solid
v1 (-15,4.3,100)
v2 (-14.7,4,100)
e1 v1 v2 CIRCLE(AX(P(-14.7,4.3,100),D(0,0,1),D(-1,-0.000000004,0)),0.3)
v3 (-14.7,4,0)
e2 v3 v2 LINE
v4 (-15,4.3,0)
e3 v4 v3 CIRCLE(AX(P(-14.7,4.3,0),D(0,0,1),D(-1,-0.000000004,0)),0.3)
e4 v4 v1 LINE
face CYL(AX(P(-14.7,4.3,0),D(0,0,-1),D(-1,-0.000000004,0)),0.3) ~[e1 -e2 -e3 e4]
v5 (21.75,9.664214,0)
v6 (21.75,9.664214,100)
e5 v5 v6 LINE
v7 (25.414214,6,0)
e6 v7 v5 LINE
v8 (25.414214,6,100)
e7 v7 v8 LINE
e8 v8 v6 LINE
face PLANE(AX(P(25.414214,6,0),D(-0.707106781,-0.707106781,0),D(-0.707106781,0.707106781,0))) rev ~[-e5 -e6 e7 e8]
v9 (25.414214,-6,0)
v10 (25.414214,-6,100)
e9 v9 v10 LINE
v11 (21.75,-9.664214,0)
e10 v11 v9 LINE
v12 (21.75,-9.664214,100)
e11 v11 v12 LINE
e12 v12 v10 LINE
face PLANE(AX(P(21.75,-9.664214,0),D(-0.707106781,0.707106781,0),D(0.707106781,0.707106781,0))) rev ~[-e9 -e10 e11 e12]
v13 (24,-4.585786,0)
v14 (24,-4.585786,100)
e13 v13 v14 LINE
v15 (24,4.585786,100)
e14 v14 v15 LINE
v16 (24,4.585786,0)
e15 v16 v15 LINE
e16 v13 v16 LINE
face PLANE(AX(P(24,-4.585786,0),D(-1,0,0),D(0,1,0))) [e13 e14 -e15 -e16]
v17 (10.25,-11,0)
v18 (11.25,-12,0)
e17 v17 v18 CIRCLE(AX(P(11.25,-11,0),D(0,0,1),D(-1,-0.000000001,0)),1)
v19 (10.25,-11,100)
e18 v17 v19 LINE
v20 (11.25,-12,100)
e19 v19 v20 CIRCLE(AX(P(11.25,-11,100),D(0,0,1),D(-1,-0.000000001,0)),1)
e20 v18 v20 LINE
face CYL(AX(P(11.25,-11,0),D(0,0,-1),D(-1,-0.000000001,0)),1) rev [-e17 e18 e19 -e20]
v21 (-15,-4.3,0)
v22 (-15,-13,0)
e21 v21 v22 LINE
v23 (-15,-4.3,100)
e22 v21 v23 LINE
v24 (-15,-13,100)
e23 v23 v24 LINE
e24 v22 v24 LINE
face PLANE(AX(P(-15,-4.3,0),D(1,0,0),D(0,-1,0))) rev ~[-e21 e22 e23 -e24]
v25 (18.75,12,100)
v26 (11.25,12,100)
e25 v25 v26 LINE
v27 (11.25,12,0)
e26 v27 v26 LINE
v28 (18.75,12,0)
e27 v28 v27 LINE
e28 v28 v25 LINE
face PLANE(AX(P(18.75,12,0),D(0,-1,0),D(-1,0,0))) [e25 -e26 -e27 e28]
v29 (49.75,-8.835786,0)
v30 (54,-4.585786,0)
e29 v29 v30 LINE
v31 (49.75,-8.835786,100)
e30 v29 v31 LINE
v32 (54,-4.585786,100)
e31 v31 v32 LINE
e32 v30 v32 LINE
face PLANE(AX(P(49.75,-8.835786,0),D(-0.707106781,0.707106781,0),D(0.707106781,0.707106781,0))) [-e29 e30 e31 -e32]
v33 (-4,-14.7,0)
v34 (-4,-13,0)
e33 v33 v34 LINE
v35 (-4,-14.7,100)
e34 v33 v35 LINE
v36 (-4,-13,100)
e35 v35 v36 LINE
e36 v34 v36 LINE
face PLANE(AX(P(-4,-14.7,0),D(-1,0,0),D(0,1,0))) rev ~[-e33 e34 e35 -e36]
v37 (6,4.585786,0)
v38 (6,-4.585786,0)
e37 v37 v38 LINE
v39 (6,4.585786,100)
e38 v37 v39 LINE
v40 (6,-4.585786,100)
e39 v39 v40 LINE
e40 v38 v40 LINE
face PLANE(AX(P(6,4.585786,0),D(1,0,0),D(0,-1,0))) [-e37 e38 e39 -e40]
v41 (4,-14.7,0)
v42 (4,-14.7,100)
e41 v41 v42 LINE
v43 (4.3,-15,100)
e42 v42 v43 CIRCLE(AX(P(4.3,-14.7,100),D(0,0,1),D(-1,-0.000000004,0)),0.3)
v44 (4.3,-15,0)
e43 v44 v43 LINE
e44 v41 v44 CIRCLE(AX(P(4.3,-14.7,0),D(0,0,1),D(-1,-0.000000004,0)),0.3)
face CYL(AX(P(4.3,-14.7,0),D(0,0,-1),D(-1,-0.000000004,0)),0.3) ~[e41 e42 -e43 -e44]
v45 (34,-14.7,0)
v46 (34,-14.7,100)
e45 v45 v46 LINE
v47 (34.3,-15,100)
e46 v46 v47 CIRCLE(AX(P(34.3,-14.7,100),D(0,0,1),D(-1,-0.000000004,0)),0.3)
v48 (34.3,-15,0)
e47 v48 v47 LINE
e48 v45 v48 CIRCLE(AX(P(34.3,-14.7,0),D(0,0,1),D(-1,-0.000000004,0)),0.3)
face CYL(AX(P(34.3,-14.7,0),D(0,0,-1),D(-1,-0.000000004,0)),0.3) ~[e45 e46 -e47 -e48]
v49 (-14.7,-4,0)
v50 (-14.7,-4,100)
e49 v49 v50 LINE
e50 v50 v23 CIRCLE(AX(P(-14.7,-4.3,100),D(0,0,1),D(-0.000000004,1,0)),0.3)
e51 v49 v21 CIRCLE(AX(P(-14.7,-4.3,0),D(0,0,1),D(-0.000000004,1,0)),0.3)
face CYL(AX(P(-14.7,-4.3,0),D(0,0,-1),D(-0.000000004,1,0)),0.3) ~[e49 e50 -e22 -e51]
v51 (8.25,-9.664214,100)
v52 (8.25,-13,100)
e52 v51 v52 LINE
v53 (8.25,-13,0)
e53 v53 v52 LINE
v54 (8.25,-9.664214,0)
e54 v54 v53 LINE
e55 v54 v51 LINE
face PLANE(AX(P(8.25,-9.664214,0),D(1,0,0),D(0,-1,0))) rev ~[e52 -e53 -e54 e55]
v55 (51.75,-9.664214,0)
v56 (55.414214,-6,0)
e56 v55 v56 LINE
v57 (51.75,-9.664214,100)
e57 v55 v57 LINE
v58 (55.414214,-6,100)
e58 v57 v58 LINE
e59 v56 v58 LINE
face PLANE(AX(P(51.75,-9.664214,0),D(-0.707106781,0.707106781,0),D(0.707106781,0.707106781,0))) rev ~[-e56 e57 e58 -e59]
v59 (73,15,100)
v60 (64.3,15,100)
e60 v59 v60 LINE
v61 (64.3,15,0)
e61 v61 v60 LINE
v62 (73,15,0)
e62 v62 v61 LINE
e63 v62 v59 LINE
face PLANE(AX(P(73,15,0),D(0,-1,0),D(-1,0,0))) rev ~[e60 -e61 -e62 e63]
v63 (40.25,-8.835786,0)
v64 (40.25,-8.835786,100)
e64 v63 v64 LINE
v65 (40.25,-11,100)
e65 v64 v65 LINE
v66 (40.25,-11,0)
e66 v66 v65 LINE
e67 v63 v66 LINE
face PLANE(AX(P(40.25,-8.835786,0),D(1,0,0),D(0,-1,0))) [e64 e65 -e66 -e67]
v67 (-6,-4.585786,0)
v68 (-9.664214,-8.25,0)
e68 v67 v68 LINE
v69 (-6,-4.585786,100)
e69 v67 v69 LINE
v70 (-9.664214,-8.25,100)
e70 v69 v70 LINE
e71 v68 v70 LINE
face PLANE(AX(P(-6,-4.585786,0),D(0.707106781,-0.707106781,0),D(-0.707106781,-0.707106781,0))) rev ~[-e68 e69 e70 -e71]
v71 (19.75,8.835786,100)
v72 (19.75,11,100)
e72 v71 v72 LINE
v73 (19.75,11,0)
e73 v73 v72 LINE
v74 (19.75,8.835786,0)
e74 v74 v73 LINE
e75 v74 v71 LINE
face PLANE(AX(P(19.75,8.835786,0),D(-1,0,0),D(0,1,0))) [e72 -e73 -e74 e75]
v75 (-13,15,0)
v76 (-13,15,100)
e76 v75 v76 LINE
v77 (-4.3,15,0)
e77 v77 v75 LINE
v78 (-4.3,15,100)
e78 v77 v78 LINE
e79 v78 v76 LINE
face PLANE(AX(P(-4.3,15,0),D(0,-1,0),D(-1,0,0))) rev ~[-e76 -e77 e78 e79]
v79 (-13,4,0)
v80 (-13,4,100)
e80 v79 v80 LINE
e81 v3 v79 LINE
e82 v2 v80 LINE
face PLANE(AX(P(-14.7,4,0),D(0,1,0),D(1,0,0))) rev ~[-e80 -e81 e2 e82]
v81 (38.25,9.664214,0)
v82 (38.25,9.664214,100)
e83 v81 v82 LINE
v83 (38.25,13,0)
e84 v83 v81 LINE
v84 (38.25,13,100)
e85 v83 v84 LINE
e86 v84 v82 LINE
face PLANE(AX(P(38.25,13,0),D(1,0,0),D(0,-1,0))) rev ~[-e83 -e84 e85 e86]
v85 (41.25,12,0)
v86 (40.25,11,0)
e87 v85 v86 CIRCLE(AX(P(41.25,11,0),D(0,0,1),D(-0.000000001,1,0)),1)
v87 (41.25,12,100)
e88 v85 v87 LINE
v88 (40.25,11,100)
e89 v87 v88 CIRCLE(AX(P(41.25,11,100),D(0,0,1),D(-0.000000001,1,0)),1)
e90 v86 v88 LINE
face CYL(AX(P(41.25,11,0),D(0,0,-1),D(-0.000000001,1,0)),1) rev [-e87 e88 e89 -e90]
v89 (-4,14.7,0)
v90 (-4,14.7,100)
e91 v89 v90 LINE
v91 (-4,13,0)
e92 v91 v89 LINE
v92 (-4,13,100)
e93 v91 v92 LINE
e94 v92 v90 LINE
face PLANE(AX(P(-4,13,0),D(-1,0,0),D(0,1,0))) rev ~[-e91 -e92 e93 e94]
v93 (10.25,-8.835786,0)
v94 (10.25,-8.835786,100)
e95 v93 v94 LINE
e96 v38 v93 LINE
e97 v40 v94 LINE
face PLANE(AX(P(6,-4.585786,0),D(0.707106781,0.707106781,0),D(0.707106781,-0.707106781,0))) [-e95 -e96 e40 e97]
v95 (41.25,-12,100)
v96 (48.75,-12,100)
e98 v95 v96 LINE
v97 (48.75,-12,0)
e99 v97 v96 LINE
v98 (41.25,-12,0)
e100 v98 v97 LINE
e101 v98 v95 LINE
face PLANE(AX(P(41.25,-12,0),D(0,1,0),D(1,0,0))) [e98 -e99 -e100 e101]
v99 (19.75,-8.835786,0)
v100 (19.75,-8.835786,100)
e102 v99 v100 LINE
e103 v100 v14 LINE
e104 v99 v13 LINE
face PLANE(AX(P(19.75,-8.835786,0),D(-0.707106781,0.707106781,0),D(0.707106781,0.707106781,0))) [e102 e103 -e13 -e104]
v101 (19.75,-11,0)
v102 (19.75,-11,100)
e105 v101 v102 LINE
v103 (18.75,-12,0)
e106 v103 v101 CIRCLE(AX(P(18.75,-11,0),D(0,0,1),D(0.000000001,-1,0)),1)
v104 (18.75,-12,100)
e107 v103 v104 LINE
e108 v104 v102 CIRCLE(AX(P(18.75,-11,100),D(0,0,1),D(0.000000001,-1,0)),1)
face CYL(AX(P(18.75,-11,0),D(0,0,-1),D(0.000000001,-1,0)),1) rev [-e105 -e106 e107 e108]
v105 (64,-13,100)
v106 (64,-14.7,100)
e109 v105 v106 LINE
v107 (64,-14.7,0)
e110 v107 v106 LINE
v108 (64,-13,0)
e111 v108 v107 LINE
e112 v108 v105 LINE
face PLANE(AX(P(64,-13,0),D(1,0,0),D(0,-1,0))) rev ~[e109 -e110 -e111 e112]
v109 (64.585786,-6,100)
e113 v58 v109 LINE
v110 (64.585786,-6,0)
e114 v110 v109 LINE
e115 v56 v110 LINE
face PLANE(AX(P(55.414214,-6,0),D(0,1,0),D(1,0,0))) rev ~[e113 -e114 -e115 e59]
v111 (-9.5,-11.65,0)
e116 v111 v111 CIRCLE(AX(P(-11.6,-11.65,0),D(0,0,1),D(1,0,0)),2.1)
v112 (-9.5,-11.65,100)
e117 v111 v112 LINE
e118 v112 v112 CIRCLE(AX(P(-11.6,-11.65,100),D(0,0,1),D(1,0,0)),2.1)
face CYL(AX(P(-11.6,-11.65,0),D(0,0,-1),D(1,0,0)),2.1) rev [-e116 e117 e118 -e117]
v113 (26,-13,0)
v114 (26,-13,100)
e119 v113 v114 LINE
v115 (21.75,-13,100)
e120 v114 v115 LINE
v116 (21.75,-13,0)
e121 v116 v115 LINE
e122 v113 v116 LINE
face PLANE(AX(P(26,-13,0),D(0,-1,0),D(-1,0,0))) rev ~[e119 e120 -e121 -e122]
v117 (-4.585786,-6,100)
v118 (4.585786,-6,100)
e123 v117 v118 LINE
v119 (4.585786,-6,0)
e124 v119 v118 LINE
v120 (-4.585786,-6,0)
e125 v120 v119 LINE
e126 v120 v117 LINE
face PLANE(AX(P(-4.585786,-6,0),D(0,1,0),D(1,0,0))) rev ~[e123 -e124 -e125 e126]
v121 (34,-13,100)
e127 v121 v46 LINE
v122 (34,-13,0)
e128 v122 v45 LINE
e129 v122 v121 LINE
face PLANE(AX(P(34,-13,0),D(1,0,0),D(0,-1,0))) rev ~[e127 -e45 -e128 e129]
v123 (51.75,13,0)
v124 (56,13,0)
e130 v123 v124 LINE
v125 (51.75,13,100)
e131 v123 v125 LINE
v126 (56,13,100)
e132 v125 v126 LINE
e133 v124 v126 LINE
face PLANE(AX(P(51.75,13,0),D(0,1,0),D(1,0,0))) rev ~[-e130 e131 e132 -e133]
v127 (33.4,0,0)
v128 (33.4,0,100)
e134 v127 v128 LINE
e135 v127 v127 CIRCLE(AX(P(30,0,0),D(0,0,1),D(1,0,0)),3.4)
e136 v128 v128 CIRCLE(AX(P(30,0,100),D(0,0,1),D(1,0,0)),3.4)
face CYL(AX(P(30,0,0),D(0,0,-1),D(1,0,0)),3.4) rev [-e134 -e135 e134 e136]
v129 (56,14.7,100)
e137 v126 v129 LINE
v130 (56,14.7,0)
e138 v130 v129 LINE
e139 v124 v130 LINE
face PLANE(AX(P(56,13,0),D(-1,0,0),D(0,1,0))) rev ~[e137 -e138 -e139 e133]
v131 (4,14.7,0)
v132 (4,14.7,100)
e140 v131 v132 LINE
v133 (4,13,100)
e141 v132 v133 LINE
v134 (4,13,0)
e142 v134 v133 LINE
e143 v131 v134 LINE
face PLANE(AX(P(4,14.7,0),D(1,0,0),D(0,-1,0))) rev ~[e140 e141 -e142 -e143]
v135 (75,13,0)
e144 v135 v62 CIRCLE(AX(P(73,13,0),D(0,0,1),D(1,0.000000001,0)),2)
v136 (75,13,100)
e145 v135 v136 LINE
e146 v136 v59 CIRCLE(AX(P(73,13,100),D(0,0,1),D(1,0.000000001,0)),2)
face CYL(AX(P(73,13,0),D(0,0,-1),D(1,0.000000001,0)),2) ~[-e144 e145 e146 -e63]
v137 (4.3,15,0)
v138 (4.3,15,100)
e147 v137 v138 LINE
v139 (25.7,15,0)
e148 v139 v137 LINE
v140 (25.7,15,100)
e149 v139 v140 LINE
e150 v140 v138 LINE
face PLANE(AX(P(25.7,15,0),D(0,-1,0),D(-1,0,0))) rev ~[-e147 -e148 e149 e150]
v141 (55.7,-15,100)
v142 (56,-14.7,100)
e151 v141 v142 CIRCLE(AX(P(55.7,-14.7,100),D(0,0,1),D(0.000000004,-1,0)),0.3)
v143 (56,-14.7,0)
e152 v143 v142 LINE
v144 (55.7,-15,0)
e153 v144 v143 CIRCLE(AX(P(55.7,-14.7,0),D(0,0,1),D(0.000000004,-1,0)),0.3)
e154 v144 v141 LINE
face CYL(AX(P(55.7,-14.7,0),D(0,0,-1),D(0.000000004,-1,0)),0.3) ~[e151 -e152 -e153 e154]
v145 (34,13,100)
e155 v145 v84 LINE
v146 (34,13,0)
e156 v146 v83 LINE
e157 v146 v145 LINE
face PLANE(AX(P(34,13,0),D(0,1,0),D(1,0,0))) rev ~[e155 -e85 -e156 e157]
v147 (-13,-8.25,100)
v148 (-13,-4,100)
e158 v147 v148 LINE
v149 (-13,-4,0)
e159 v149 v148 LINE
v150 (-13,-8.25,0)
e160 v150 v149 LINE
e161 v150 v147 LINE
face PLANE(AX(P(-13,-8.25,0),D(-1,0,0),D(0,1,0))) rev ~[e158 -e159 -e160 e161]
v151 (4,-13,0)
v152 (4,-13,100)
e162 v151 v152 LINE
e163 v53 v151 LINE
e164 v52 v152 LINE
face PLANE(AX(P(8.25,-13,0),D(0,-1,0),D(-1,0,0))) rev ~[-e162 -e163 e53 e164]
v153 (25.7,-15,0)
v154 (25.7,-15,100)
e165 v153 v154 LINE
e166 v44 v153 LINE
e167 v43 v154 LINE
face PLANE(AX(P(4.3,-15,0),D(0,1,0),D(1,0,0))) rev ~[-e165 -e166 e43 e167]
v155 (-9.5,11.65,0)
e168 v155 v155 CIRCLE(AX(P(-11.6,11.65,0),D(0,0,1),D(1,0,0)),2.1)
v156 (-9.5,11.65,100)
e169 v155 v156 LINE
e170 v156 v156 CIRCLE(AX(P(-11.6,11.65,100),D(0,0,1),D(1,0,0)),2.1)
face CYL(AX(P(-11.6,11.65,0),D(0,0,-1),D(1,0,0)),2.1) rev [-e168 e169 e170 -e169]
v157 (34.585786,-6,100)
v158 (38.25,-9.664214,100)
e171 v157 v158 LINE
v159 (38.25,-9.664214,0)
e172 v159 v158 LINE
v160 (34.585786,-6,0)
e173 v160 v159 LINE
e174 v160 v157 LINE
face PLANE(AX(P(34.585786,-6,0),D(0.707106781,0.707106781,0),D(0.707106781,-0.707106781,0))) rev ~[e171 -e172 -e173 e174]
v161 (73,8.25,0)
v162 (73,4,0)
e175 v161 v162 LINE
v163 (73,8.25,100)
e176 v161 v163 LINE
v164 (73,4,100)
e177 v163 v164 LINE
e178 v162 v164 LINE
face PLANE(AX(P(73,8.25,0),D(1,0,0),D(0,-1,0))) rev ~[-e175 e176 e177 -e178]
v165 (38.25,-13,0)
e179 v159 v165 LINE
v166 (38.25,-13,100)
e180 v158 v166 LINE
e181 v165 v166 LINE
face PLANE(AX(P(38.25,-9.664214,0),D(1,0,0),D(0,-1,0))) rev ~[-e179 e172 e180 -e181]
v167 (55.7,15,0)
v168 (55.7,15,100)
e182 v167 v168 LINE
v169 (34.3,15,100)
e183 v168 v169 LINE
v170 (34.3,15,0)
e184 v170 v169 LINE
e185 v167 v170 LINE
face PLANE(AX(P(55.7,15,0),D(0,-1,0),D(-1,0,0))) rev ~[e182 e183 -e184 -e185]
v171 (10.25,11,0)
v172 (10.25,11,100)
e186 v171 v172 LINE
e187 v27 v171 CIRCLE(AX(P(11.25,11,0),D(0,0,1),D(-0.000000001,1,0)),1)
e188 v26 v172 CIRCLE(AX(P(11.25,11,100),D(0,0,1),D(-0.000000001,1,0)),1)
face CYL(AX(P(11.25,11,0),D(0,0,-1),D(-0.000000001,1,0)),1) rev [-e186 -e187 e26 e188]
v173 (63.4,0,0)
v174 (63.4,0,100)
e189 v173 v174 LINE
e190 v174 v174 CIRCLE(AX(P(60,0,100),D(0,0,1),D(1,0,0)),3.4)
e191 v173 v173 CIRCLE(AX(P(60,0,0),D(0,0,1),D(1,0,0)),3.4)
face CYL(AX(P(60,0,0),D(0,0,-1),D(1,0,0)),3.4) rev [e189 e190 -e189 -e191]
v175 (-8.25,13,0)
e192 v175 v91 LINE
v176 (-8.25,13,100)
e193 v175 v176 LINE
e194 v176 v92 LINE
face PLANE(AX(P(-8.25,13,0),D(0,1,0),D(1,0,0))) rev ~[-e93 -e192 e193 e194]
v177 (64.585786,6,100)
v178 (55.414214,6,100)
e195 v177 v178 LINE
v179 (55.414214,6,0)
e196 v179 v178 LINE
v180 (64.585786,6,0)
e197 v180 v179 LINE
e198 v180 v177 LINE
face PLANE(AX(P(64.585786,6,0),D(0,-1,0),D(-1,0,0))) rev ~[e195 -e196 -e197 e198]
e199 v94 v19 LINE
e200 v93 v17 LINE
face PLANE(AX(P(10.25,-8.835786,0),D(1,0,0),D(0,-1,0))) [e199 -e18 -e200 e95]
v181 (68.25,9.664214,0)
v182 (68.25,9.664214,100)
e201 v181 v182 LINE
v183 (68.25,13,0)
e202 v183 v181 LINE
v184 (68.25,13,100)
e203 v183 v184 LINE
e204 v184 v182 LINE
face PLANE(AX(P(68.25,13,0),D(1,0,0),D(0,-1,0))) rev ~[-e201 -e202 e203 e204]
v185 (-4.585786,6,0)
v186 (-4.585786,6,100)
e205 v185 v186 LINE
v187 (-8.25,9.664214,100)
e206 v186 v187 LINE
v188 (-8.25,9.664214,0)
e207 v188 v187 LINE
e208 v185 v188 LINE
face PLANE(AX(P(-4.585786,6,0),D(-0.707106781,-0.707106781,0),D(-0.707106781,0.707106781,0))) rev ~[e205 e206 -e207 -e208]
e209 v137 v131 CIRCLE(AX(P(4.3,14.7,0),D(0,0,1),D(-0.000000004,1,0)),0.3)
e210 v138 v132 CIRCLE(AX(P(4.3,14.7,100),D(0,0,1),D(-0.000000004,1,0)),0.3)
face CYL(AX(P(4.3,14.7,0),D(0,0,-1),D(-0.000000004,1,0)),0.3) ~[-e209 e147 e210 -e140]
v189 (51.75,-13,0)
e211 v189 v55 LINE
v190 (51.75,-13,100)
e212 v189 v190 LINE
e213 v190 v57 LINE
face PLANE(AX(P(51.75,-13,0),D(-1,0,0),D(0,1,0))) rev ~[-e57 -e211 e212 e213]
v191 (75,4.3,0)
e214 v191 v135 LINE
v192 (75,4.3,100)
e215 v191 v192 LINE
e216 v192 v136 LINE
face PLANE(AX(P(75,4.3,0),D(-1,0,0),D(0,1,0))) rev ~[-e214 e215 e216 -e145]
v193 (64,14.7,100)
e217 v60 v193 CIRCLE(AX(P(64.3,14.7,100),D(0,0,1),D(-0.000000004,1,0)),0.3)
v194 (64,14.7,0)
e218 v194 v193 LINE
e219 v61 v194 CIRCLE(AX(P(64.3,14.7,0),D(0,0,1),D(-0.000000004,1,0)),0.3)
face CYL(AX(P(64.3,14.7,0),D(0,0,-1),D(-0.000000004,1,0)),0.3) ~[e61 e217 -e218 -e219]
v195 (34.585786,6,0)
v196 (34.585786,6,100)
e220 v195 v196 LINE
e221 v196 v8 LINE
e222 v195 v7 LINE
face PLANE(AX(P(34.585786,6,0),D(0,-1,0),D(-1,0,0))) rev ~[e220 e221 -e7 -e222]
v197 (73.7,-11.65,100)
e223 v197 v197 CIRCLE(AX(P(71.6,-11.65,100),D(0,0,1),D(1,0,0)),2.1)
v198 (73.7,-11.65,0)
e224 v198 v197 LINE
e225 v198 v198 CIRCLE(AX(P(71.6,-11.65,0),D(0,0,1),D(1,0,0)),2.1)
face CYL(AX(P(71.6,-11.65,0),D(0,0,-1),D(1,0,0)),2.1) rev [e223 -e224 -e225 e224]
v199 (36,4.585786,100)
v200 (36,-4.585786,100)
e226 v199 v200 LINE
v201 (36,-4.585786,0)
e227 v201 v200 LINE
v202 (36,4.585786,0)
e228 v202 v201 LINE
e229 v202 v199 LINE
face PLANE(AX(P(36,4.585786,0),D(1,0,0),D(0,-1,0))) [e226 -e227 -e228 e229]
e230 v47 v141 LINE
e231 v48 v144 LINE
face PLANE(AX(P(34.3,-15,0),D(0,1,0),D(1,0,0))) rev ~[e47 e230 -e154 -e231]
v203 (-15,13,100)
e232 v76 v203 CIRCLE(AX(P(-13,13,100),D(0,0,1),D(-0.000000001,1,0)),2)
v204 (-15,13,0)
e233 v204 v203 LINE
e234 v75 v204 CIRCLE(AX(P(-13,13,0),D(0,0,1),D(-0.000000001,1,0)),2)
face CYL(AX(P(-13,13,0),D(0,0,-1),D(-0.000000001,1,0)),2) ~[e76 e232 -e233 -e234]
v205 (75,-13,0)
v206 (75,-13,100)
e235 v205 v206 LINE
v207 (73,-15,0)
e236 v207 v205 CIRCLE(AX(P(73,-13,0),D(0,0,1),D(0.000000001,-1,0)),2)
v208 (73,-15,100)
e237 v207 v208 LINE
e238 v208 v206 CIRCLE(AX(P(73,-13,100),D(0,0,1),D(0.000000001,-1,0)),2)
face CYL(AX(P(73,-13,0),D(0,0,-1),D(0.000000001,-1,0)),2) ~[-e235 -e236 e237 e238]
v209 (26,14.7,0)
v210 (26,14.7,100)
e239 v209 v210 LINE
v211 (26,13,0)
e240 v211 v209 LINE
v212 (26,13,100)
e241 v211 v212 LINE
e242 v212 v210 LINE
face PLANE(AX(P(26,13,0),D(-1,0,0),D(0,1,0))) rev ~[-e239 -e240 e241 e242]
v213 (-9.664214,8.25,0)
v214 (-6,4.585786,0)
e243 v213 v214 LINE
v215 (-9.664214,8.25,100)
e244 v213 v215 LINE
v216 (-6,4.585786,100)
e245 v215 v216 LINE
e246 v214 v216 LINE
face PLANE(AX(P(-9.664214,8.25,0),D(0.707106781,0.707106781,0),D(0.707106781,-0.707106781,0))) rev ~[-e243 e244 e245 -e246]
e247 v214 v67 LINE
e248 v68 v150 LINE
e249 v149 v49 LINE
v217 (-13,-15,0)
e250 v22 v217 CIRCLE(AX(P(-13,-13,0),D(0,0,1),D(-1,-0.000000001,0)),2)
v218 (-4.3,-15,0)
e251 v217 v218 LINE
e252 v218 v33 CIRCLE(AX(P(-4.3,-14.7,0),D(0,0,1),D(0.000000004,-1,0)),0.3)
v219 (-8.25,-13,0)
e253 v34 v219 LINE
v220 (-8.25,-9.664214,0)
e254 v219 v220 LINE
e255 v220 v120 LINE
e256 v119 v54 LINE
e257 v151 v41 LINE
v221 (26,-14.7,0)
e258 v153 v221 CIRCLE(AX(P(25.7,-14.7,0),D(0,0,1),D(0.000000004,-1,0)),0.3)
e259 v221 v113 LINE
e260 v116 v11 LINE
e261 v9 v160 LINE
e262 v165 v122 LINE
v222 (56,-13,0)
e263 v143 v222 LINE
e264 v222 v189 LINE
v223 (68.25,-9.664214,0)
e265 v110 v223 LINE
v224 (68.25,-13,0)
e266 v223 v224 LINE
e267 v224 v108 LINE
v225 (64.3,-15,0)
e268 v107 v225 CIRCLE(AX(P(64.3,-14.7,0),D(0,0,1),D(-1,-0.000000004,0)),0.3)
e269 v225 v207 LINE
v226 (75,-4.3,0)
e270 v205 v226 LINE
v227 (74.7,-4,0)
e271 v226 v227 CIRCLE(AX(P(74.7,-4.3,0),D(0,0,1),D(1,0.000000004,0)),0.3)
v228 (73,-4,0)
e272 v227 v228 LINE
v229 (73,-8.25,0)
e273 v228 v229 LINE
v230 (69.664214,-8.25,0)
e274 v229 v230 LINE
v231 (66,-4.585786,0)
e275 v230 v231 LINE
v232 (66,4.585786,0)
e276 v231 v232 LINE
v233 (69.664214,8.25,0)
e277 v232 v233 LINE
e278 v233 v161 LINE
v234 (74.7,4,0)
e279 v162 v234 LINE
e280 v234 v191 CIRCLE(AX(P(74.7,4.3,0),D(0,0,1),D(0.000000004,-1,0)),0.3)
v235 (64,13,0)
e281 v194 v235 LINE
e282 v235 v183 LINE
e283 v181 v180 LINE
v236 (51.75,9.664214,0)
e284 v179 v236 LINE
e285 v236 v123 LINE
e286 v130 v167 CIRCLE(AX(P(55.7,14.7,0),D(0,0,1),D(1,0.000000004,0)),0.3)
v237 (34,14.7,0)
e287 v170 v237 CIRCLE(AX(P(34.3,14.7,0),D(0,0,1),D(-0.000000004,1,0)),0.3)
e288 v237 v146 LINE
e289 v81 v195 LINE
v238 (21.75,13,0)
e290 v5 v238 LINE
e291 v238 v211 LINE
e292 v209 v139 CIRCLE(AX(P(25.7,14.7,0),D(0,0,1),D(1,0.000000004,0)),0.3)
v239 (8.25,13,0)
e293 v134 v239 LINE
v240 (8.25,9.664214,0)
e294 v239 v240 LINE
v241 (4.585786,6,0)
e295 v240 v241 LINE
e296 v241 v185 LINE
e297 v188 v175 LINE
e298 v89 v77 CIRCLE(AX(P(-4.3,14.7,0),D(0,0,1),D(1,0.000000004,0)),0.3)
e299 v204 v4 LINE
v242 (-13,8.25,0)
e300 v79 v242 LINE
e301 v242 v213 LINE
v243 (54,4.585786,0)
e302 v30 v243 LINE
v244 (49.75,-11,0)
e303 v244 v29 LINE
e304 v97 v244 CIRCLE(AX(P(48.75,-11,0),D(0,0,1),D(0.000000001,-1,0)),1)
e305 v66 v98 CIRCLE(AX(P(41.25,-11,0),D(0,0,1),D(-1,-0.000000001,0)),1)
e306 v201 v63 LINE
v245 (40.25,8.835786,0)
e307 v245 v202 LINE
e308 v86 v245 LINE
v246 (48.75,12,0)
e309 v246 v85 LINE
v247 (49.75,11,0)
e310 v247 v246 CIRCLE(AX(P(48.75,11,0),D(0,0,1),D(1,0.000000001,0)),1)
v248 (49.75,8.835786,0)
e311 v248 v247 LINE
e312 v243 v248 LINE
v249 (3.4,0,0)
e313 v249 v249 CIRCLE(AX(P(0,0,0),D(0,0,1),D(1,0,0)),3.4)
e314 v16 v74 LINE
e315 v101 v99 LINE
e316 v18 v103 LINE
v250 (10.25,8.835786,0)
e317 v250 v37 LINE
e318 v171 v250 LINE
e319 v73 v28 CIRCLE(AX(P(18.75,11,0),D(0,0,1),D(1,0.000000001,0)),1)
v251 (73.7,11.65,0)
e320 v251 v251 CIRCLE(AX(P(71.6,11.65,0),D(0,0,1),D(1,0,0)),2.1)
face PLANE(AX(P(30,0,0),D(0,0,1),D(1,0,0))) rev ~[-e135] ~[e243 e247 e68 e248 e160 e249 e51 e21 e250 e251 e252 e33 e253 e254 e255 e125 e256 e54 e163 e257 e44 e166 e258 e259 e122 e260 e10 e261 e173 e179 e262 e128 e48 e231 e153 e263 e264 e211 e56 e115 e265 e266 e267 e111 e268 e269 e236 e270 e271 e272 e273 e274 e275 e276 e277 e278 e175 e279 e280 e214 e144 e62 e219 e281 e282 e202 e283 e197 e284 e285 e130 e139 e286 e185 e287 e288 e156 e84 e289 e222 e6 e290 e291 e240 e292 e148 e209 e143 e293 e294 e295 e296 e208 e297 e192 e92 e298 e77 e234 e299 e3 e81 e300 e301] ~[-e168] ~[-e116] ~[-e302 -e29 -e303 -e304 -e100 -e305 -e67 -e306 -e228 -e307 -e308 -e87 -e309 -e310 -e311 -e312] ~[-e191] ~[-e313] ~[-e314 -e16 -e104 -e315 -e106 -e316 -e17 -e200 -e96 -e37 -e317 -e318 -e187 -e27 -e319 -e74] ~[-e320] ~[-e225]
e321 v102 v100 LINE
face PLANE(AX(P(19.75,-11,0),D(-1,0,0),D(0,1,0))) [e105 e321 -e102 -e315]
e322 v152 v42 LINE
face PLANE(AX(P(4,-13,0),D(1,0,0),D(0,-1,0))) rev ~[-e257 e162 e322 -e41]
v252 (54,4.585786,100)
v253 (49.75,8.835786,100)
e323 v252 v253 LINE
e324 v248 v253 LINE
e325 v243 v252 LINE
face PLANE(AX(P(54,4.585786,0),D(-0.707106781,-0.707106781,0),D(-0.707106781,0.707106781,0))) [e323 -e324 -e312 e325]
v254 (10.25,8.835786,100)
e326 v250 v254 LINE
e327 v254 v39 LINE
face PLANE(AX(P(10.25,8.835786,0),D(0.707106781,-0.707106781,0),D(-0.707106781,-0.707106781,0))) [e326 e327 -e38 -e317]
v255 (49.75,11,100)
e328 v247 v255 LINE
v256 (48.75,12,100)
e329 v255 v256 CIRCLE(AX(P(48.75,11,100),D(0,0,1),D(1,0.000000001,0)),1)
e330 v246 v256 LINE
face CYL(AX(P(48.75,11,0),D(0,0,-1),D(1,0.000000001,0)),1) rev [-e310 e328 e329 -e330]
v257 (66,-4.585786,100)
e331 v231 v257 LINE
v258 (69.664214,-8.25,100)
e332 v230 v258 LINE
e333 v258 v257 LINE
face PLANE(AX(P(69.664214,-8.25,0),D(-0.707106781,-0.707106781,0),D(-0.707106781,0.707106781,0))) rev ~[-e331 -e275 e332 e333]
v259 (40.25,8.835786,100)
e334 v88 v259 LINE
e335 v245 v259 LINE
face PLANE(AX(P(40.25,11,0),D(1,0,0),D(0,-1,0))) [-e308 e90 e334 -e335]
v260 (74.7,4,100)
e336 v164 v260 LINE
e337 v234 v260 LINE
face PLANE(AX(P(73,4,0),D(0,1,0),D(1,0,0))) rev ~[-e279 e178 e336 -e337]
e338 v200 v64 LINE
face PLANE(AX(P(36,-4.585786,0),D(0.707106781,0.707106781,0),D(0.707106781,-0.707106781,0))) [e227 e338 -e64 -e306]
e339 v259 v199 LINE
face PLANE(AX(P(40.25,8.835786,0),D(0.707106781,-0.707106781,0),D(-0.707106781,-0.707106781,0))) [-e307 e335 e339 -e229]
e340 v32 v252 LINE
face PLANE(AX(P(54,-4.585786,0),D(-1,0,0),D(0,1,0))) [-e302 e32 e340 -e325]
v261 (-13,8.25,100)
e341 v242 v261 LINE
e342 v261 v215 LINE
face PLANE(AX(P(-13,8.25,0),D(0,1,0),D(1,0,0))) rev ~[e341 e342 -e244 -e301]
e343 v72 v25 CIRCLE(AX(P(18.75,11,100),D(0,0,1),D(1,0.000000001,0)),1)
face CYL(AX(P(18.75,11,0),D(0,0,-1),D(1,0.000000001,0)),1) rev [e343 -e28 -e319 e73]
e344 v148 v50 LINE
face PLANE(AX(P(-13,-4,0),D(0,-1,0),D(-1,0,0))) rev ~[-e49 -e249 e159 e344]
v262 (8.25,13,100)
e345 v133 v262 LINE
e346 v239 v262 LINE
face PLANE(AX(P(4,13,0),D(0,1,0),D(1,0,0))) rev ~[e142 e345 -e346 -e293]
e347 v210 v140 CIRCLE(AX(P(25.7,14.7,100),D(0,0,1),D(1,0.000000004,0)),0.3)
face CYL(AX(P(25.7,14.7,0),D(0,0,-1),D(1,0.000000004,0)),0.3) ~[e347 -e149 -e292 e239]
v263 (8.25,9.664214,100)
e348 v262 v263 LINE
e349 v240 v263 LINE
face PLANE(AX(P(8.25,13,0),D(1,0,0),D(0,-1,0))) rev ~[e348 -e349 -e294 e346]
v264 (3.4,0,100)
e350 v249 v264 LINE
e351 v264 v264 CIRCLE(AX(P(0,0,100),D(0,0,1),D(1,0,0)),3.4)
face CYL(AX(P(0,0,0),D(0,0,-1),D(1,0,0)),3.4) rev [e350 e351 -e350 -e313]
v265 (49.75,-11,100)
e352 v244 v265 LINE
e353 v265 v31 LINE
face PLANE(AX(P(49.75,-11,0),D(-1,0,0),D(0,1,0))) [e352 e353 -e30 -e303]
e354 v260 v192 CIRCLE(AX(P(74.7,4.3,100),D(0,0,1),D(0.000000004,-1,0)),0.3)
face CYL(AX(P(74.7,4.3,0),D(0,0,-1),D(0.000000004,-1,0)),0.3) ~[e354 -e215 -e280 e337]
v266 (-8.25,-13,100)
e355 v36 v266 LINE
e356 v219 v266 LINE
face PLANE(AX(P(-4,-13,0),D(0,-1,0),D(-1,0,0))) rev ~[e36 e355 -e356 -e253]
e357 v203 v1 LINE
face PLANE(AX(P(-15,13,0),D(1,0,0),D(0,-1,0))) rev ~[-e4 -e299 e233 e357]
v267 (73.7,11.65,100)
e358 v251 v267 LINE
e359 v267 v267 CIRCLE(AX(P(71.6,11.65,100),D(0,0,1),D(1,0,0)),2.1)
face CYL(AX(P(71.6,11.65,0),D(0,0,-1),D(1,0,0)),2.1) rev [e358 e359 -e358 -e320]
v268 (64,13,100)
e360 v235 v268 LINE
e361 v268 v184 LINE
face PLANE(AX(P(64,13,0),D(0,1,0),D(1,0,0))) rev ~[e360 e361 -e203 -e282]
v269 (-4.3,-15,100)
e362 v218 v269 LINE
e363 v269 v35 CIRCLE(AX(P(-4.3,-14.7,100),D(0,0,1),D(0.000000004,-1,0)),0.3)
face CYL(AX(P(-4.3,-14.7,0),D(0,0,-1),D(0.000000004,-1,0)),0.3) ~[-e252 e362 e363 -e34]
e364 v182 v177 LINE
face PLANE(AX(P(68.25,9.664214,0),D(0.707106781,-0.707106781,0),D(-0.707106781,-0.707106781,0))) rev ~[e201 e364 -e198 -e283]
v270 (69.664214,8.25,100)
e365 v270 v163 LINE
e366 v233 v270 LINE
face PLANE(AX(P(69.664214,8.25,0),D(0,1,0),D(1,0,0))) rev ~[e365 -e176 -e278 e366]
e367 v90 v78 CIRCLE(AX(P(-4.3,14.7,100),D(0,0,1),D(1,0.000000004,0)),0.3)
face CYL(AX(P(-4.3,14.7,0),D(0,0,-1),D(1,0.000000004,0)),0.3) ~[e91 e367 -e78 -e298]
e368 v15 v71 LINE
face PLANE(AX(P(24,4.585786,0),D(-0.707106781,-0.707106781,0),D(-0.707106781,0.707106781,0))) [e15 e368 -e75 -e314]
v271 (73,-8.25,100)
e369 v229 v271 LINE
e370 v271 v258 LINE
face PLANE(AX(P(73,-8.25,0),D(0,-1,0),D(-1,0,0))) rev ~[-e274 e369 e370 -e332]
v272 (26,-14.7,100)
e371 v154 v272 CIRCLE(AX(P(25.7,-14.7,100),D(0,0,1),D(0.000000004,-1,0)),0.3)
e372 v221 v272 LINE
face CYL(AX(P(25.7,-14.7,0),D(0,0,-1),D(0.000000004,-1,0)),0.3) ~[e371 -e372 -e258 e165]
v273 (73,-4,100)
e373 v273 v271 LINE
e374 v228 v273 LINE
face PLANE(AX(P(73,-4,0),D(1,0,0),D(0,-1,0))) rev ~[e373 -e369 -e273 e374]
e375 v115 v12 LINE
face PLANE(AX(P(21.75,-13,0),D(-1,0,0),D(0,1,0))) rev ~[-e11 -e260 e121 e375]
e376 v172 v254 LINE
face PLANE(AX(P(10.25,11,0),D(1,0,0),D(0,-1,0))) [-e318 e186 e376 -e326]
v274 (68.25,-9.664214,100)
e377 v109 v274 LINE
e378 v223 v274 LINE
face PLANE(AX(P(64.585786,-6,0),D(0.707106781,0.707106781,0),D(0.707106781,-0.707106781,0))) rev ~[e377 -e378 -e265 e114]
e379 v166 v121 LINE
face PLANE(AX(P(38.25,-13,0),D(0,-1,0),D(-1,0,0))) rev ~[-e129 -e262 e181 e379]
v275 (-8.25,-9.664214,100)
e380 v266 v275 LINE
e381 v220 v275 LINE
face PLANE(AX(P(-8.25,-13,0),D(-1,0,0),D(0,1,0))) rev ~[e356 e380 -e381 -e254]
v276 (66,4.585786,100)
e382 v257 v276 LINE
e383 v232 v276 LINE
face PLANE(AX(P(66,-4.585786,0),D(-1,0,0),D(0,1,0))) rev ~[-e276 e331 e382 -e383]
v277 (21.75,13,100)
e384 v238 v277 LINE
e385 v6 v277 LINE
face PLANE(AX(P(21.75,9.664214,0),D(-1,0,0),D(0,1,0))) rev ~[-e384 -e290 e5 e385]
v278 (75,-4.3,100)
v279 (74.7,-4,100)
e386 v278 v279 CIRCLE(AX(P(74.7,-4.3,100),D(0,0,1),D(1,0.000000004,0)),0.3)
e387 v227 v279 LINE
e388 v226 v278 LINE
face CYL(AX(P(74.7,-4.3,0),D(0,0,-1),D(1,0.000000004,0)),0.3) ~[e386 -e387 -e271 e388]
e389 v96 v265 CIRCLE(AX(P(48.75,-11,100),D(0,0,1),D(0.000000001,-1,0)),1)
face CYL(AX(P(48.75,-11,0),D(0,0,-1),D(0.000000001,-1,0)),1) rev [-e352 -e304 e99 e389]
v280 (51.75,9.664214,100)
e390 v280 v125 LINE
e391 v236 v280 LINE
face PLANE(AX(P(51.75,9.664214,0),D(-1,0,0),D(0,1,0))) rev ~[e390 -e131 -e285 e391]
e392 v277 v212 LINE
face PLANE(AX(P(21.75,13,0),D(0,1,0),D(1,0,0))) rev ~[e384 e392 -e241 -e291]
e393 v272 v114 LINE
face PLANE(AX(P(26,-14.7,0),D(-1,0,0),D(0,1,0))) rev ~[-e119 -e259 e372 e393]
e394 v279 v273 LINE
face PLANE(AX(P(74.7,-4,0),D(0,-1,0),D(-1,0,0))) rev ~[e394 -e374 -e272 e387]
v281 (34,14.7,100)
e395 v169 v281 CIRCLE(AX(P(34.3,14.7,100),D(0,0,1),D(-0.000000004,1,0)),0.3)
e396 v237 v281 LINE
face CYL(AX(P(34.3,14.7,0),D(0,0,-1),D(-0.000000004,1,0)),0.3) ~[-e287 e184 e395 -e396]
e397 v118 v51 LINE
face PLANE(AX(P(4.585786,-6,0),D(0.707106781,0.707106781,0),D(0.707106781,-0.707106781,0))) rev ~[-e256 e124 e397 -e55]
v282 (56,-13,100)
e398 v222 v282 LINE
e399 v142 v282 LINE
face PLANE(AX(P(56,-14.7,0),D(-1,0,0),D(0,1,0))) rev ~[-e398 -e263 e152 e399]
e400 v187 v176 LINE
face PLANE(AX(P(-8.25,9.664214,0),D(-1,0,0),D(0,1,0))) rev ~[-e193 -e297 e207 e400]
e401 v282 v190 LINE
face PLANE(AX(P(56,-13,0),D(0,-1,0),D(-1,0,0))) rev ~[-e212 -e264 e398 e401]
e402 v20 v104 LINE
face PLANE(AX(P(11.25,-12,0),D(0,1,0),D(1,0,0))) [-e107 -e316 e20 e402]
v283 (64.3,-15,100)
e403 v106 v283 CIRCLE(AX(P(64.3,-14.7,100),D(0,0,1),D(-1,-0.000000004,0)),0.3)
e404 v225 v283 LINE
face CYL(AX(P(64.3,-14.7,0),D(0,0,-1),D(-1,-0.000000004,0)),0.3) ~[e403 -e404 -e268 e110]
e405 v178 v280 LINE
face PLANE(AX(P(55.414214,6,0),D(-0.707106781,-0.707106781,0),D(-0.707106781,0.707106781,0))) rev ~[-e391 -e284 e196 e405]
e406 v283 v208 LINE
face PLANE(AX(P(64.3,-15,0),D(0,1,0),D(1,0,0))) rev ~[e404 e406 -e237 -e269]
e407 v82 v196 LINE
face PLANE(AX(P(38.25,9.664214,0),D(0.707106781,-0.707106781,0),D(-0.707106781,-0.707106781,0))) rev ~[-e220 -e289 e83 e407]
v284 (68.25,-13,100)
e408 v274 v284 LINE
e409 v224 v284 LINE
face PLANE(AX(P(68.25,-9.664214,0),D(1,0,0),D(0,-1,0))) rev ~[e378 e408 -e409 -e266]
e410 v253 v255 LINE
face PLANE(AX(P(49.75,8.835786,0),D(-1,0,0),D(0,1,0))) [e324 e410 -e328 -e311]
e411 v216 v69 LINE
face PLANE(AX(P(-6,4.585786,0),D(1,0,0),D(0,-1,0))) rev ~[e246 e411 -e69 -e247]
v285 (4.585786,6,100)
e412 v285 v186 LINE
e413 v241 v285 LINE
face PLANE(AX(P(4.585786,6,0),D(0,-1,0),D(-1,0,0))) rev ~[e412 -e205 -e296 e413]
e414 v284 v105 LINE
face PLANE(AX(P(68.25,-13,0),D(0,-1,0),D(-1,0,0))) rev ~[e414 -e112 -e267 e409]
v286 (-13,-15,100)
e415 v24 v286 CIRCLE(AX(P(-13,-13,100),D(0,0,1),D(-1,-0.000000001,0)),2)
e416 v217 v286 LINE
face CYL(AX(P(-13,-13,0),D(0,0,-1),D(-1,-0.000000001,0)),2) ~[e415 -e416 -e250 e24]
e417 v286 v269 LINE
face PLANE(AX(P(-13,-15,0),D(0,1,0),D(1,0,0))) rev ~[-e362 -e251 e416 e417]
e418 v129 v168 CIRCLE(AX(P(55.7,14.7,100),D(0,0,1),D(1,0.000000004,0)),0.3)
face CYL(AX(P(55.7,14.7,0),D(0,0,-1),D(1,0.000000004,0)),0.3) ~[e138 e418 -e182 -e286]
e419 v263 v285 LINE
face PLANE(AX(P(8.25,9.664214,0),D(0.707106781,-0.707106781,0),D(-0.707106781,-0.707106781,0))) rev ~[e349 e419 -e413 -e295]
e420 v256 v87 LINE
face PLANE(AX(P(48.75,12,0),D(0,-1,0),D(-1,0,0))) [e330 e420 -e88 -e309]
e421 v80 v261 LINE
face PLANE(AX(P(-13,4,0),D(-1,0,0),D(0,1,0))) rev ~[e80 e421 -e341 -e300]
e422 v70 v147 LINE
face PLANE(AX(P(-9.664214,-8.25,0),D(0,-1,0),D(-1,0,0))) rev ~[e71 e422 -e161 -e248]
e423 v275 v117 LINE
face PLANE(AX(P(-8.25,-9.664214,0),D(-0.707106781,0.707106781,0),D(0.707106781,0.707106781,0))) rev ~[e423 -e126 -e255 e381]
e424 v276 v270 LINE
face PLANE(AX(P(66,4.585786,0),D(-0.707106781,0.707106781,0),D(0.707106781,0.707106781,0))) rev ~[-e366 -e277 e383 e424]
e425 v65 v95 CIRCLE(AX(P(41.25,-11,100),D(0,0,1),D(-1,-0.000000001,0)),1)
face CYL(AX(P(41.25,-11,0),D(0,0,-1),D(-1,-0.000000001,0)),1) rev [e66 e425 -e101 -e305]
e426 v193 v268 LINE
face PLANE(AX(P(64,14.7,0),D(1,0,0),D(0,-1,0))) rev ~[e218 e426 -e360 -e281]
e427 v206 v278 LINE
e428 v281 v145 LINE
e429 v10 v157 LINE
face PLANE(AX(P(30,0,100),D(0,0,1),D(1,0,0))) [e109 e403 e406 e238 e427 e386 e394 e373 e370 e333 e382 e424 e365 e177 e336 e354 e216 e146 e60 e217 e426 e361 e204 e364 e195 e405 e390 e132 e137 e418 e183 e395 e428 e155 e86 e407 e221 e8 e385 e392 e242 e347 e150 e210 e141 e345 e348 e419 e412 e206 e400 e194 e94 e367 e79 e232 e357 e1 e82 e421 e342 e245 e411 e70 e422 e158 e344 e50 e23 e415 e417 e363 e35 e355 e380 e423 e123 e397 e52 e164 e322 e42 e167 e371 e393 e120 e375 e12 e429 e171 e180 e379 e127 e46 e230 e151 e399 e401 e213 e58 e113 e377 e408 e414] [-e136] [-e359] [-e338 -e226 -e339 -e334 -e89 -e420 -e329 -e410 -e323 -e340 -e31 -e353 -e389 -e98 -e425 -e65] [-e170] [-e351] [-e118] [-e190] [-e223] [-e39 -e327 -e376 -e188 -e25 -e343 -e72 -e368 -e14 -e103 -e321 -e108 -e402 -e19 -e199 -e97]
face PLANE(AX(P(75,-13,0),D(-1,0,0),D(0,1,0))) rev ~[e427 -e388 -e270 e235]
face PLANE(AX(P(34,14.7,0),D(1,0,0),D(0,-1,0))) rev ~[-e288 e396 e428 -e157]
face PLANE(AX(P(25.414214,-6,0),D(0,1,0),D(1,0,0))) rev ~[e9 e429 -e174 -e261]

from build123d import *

# Parameters (mm, degrees)
SKETCH_1_R      = 3.4
SKETCH_1_R_2    = 2.1
EXTRUDE_1_DEPTH = 100


with BuildPart() as part:
    # 草图1 → 凸台-拉伸1 (new body)
    with BuildSketch(Plane.XY):
        with BuildLine():
            Line((-15, 13), (-15, 4.3))
            ThreePointArc((-15, 4.3), (-14.912132034, 4.087867966), (-14.7, 4))
            Line((-14.7, 4), (-13, 4))
            Line((-13, 4), (-13, 8.25))
            Line((-13, 8.25), (-9.664213562, 8.25))
            Line((-9.664213562, 8.25), (-6, 4.585786438))
            Line((-6, 4.585786438), (-6, -4.585786438))
            Line((-6, -4.585786438), (-9.664213562, -8.25))
            Line((-9.664213562, -8.25), (-13, -8.25))
            Line((-13, -8.25), (-13, -4))
            Line((-13, -4), (-14.7, -4))
            ThreePointArc((-14.7, -4), (-14.912132034, -4.087867966), (-15, -4.3))
            Line((-15, -4.3), (-15, -13))
            ThreePointArc((-15, -13), (-14.414213562, -14.414213562), (-13, -15))
            Line((-13, -15), (-4.3, -15))
            ThreePointArc((-4.3, -15), (-4.087867966, -14.912132034), (-4, -14.7))
            Line((-4, -14.7), (-4, -13))
            Line((-4, -13), (-8.25, -13))
            Line((-8.25, -13), (-8.25, -9.664213562))
            Line((-8.25, -9.664213562), (-4.585786438, -6))
            Line((-4.585786438, -6), (4.585786438, -6))
            Line((4.585786438, -6), (8.25, -9.664213562))
            Line((8.25, -9.664213562), (8.25, -13))
            Line((8.25, -13), (4, -13))
            Line((4, -13), (4, -14.7))
            ThreePointArc((4, -14.7), (4.087867966, -14.912132034), (4.3, -15))
            Line((4.3, -15), (25.7, -15))
            ThreePointArc((25.7, -15), (25.912132034, -14.912132034), (26, -14.7))
            Line((26, -14.7), (26, -13))
            Line((26, -13), (21.75, -13))
            Line((21.75, -13), (21.75, -9.664213562))
            Line((21.75, -9.664213562), (25.414213562, -6))
            Line((25.414213562, -6), (34.585786438, -6))
            Line((34.585786438, -6), (38.25, -9.664213562))
            Line((38.25, -9.664213562), (38.25, -13))
            Line((38.25, -13), (34, -13))
            Line((34, -13), (34, -14.7))
            ThreePointArc((34, -14.7), (34.087867966, -14.912132034), (34.3, -15))
            Line((34.3, -15), (55.7, -15))
            ThreePointArc((55.7, -15), (55.912132034, -14.912132034), (56, -14.7))
            Line((56, -14.7), (56, -13))
            Line((56, -13), (51.75, -13))
            Line((51.75, -13), (51.75, -9.664213562))
            Line((51.75, -9.664213562), (55.414213562, -6))
            Line((55.414213562, -6), (64.585786438, -6))
            Line((64.585786438, -6), (68.25, -9.664213562))
            Line((68.25, -9.664213562), (68.25, -13))
            Line((68.25, -13), (64, -13))
            Line((64, -13), (64, -14.7))
            ThreePointArc((64, -14.7), (64.087867966, -14.912132034), (64.3, -15))
            Line((64.3, -15), (73, -15))
            ThreePointArc((73, -15), (74.414213562, -14.414213562), (75, -13))
            Line((75, -13), (75, -4.3))
            ThreePointArc((75, -4.3), (74.912132034, -4.087867966), (74.7, -4))
            Line((74.7, -4), (73, -4))
            Line((73, -4), (73, -8.25))
            Line((73, -8.25), (69.664213562, -8.25))
            Line((69.664213562, -8.25), (66, -4.585786438))
            Line((66, -4.585786438), (66, 4.585786438))
            Line((66, 4.585786438), (69.664213562, 8.25))
            Line((69.664213562, 8.25), (73, 8.25))
            Line((73, 8.25), (73, 4))
            Line((73, 4), (74.7, 4))
            ThreePointArc((74.7, 4), (74.912132034, 4.087867966), (75, 4.3))
            Line((75, 4.3), (75, 13))
            ThreePointArc((75, 13), (74.414213562, 14.414213562), (73, 15))
            Line((73, 15), (64.3, 15))
            ThreePointArc((64.3, 15), (64.087867966, 14.912132034), (64, 14.7))
            Line((64, 14.7), (64, 13))
            Line((64, 13), (68.25, 13))
            Line((68.25, 13), (68.25, 9.664213562))
            Line((68.25, 9.664213562), (64.585786438, 6))
            Line((64.585786438, 6), (55.414213562, 6))
            Line((55.414213562, 6), (51.75, 9.664213562))
            Line((51.75, 9.664213562), (51.75, 13))
            Line((51.75, 13), (56, 13))
            Line((56, 13), (56, 14.7))
            ThreePointArc((56, 14.7), (55.912132034, 14.912132034), (55.7, 15))
            Line((55.7, 15), (34.3, 15))
            ThreePointArc((34.3, 15), (34.087867966, 14.912132034), (34, 14.7))
            Line((34, 14.7), (34, 13))
            Line((34, 13), (38.25, 13))
            Line((38.25, 13), (38.25, 9.664213562))
            Line((38.25, 9.664213562), (34.585786438, 6))
            Line((34.585786438, 6), (25.414213562, 6))
            Line((25.414213562, 6), (21.75, 9.664213562))
            Line((21.75, 9.664213562), (21.75, 13))
            Line((21.75, 13), (26, 13))
            Line((26, 13), (26, 14.7))
            ThreePointArc((26, 14.7), (25.912132034, 14.912132034), (25.7, 15))
            Line((25.7, 15), (4.3, 15))
            ThreePointArc((4.3, 15), (4.087867966, 14.912132034), (4, 14.7))
            Line((4, 14.7), (4, 13))
            Line((4, 13), (8.25, 13))
            Line((8.25, 13), (8.25, 9.664213562))
            Line((8.25, 9.664213562), (4.585786438, 6))
            Line((4.585786438, 6), (-4.585786438, 6))
            Line((-4.585786438, 6), (-8.25, 9.664213562))
            Line((-8.25, 9.664213562), (-8.25, 13))
            Line((-8.25, 13), (-4, 13))
            Line((-4, 13), (-4, 14.7))
            ThreePointArc((-4, 14.7), (-4.087867966, 14.912132034), (-4.3, 15))
            Line((-4.3, 15), (-13, 15))
            ThreePointArc((-13, 15), (-14.414213562, 14.414213562), (-15, 13))
        make_face()
        Circle(SKETCH_1_R, mode=Mode.SUBTRACT)
        with Locations((60, 0)):
            Circle(SKETCH_1_R, mode=Mode.SUBTRACT)
        with Locations((30, 0)):
            Circle(SKETCH_1_R, mode=Mode.SUBTRACT)
        with Locations((-11.6, -11.65)):
            Circle(SKETCH_1_R_2, mode=Mode.SUBTRACT)
        with Locations((71.6, -11.65)):
            Circle(SKETCH_1_R_2, mode=Mode.SUBTRACT)
        with Locations((71.6, 11.65)):
            Circle(SKETCH_1_R_2, mode=Mode.SUBTRACT)
        with Locations((-11.6, 11.65)):
            Circle(SKETCH_1_R_2, mode=Mode.SUBTRACT)
        with BuildLine():
            Line((40.25, 11), (40.25, 10))
            Line((40.25, 10), (40.25, 8.835786438))
            Line((40.25, 8.835786438), (36, 4.585786438))
            Line((36, 4.585786438), (36, -4.585786438))
            Line((36, -4.585786438), (40.25, -8.835786438))
            Line((40.25, -8.835786438), (40.25, -10))
            Line((40.25, -10), (40.25, -11))
            ThreePointArc((40.25, -11), (40.542893219, -11.707106781), (41.25, -12))
            Line((41.25, -12), (48.75, -12))
            ThreePointArc((48.75, -12), (49.457106781, -11.707106781), (49.75, -11))
            Line((49.75, -11), (49.75, -10))
            Line((49.75, -10), (49.75, -8.835786438))
            Line((49.75, -8.835786438), (54, -4.585786438))
            Line((54, -4.585786438), (54, 4.585786438))
            Line((54, 4.585786438), (49.75, 8.835786438))
            Line((49.75, 8.835786438), (49.75, 10))
            Line((49.75, 10), (49.75, 11))
            ThreePointArc((49.75, 11), (49.457106781, 11.707106781), (48.75, 12))
            Line((48.75, 12), (41.25, 12))
            ThreePointArc((41.25, 12), (40.542893219, 11.707106781), (40.25, 11))
        make_face(mode=Mode.SUBTRACT)
        with BuildLine():
            Line((18.75, 12), (11.25, 12))
            ThreePointArc((11.25, 12), (10.542893219, 11.707106781), (10.25, 11))
            Line((10.25, 11), (10.25, 10))
            Line((10.25, 10), (10.25, 8.835786438))
            Line((10.25, 8.835786438), (6, 4.585786438))
            Line((6, 4.585786438), (6, -4.585786438))
            Line((6, -4.585786438), (10.25, -8.835786438))
            Line((10.25, -8.835786438), (10.25, -10))
            Line((10.25, -10), (10.25, -11))
            ThreePointArc((10.25, -11), (10.542893219, -11.707106781), (11.25, -12))
            Line((11.25, -12), (18.75, -12))
            ThreePointArc((18.75, -12), (19.457106781, -11.707106781), (19.75, -11))
            Line((19.75, -11), (19.75, -10))
            Line((19.75, -10), (19.75, -8.835786438))
            Line((19.75, -8.835786438), (24, -4.585786438))
            Line((24, -4.585786438), (24, 4.585786438))
            Line((24, 4.585786438), (19.75, 8.835786438))
            Line((19.75, 8.835786438), (19.75, 10))
            Line((19.75, 10), (19.75, 11))
            ThreePointArc((19.75, 11), (19.457106781, 11.707106781), (18.75, 12))
        make_face(mode=Mode.SUBTRACT)
    extrude(amount=EXTRUDE_1_DEPTH)


solid = part.part
